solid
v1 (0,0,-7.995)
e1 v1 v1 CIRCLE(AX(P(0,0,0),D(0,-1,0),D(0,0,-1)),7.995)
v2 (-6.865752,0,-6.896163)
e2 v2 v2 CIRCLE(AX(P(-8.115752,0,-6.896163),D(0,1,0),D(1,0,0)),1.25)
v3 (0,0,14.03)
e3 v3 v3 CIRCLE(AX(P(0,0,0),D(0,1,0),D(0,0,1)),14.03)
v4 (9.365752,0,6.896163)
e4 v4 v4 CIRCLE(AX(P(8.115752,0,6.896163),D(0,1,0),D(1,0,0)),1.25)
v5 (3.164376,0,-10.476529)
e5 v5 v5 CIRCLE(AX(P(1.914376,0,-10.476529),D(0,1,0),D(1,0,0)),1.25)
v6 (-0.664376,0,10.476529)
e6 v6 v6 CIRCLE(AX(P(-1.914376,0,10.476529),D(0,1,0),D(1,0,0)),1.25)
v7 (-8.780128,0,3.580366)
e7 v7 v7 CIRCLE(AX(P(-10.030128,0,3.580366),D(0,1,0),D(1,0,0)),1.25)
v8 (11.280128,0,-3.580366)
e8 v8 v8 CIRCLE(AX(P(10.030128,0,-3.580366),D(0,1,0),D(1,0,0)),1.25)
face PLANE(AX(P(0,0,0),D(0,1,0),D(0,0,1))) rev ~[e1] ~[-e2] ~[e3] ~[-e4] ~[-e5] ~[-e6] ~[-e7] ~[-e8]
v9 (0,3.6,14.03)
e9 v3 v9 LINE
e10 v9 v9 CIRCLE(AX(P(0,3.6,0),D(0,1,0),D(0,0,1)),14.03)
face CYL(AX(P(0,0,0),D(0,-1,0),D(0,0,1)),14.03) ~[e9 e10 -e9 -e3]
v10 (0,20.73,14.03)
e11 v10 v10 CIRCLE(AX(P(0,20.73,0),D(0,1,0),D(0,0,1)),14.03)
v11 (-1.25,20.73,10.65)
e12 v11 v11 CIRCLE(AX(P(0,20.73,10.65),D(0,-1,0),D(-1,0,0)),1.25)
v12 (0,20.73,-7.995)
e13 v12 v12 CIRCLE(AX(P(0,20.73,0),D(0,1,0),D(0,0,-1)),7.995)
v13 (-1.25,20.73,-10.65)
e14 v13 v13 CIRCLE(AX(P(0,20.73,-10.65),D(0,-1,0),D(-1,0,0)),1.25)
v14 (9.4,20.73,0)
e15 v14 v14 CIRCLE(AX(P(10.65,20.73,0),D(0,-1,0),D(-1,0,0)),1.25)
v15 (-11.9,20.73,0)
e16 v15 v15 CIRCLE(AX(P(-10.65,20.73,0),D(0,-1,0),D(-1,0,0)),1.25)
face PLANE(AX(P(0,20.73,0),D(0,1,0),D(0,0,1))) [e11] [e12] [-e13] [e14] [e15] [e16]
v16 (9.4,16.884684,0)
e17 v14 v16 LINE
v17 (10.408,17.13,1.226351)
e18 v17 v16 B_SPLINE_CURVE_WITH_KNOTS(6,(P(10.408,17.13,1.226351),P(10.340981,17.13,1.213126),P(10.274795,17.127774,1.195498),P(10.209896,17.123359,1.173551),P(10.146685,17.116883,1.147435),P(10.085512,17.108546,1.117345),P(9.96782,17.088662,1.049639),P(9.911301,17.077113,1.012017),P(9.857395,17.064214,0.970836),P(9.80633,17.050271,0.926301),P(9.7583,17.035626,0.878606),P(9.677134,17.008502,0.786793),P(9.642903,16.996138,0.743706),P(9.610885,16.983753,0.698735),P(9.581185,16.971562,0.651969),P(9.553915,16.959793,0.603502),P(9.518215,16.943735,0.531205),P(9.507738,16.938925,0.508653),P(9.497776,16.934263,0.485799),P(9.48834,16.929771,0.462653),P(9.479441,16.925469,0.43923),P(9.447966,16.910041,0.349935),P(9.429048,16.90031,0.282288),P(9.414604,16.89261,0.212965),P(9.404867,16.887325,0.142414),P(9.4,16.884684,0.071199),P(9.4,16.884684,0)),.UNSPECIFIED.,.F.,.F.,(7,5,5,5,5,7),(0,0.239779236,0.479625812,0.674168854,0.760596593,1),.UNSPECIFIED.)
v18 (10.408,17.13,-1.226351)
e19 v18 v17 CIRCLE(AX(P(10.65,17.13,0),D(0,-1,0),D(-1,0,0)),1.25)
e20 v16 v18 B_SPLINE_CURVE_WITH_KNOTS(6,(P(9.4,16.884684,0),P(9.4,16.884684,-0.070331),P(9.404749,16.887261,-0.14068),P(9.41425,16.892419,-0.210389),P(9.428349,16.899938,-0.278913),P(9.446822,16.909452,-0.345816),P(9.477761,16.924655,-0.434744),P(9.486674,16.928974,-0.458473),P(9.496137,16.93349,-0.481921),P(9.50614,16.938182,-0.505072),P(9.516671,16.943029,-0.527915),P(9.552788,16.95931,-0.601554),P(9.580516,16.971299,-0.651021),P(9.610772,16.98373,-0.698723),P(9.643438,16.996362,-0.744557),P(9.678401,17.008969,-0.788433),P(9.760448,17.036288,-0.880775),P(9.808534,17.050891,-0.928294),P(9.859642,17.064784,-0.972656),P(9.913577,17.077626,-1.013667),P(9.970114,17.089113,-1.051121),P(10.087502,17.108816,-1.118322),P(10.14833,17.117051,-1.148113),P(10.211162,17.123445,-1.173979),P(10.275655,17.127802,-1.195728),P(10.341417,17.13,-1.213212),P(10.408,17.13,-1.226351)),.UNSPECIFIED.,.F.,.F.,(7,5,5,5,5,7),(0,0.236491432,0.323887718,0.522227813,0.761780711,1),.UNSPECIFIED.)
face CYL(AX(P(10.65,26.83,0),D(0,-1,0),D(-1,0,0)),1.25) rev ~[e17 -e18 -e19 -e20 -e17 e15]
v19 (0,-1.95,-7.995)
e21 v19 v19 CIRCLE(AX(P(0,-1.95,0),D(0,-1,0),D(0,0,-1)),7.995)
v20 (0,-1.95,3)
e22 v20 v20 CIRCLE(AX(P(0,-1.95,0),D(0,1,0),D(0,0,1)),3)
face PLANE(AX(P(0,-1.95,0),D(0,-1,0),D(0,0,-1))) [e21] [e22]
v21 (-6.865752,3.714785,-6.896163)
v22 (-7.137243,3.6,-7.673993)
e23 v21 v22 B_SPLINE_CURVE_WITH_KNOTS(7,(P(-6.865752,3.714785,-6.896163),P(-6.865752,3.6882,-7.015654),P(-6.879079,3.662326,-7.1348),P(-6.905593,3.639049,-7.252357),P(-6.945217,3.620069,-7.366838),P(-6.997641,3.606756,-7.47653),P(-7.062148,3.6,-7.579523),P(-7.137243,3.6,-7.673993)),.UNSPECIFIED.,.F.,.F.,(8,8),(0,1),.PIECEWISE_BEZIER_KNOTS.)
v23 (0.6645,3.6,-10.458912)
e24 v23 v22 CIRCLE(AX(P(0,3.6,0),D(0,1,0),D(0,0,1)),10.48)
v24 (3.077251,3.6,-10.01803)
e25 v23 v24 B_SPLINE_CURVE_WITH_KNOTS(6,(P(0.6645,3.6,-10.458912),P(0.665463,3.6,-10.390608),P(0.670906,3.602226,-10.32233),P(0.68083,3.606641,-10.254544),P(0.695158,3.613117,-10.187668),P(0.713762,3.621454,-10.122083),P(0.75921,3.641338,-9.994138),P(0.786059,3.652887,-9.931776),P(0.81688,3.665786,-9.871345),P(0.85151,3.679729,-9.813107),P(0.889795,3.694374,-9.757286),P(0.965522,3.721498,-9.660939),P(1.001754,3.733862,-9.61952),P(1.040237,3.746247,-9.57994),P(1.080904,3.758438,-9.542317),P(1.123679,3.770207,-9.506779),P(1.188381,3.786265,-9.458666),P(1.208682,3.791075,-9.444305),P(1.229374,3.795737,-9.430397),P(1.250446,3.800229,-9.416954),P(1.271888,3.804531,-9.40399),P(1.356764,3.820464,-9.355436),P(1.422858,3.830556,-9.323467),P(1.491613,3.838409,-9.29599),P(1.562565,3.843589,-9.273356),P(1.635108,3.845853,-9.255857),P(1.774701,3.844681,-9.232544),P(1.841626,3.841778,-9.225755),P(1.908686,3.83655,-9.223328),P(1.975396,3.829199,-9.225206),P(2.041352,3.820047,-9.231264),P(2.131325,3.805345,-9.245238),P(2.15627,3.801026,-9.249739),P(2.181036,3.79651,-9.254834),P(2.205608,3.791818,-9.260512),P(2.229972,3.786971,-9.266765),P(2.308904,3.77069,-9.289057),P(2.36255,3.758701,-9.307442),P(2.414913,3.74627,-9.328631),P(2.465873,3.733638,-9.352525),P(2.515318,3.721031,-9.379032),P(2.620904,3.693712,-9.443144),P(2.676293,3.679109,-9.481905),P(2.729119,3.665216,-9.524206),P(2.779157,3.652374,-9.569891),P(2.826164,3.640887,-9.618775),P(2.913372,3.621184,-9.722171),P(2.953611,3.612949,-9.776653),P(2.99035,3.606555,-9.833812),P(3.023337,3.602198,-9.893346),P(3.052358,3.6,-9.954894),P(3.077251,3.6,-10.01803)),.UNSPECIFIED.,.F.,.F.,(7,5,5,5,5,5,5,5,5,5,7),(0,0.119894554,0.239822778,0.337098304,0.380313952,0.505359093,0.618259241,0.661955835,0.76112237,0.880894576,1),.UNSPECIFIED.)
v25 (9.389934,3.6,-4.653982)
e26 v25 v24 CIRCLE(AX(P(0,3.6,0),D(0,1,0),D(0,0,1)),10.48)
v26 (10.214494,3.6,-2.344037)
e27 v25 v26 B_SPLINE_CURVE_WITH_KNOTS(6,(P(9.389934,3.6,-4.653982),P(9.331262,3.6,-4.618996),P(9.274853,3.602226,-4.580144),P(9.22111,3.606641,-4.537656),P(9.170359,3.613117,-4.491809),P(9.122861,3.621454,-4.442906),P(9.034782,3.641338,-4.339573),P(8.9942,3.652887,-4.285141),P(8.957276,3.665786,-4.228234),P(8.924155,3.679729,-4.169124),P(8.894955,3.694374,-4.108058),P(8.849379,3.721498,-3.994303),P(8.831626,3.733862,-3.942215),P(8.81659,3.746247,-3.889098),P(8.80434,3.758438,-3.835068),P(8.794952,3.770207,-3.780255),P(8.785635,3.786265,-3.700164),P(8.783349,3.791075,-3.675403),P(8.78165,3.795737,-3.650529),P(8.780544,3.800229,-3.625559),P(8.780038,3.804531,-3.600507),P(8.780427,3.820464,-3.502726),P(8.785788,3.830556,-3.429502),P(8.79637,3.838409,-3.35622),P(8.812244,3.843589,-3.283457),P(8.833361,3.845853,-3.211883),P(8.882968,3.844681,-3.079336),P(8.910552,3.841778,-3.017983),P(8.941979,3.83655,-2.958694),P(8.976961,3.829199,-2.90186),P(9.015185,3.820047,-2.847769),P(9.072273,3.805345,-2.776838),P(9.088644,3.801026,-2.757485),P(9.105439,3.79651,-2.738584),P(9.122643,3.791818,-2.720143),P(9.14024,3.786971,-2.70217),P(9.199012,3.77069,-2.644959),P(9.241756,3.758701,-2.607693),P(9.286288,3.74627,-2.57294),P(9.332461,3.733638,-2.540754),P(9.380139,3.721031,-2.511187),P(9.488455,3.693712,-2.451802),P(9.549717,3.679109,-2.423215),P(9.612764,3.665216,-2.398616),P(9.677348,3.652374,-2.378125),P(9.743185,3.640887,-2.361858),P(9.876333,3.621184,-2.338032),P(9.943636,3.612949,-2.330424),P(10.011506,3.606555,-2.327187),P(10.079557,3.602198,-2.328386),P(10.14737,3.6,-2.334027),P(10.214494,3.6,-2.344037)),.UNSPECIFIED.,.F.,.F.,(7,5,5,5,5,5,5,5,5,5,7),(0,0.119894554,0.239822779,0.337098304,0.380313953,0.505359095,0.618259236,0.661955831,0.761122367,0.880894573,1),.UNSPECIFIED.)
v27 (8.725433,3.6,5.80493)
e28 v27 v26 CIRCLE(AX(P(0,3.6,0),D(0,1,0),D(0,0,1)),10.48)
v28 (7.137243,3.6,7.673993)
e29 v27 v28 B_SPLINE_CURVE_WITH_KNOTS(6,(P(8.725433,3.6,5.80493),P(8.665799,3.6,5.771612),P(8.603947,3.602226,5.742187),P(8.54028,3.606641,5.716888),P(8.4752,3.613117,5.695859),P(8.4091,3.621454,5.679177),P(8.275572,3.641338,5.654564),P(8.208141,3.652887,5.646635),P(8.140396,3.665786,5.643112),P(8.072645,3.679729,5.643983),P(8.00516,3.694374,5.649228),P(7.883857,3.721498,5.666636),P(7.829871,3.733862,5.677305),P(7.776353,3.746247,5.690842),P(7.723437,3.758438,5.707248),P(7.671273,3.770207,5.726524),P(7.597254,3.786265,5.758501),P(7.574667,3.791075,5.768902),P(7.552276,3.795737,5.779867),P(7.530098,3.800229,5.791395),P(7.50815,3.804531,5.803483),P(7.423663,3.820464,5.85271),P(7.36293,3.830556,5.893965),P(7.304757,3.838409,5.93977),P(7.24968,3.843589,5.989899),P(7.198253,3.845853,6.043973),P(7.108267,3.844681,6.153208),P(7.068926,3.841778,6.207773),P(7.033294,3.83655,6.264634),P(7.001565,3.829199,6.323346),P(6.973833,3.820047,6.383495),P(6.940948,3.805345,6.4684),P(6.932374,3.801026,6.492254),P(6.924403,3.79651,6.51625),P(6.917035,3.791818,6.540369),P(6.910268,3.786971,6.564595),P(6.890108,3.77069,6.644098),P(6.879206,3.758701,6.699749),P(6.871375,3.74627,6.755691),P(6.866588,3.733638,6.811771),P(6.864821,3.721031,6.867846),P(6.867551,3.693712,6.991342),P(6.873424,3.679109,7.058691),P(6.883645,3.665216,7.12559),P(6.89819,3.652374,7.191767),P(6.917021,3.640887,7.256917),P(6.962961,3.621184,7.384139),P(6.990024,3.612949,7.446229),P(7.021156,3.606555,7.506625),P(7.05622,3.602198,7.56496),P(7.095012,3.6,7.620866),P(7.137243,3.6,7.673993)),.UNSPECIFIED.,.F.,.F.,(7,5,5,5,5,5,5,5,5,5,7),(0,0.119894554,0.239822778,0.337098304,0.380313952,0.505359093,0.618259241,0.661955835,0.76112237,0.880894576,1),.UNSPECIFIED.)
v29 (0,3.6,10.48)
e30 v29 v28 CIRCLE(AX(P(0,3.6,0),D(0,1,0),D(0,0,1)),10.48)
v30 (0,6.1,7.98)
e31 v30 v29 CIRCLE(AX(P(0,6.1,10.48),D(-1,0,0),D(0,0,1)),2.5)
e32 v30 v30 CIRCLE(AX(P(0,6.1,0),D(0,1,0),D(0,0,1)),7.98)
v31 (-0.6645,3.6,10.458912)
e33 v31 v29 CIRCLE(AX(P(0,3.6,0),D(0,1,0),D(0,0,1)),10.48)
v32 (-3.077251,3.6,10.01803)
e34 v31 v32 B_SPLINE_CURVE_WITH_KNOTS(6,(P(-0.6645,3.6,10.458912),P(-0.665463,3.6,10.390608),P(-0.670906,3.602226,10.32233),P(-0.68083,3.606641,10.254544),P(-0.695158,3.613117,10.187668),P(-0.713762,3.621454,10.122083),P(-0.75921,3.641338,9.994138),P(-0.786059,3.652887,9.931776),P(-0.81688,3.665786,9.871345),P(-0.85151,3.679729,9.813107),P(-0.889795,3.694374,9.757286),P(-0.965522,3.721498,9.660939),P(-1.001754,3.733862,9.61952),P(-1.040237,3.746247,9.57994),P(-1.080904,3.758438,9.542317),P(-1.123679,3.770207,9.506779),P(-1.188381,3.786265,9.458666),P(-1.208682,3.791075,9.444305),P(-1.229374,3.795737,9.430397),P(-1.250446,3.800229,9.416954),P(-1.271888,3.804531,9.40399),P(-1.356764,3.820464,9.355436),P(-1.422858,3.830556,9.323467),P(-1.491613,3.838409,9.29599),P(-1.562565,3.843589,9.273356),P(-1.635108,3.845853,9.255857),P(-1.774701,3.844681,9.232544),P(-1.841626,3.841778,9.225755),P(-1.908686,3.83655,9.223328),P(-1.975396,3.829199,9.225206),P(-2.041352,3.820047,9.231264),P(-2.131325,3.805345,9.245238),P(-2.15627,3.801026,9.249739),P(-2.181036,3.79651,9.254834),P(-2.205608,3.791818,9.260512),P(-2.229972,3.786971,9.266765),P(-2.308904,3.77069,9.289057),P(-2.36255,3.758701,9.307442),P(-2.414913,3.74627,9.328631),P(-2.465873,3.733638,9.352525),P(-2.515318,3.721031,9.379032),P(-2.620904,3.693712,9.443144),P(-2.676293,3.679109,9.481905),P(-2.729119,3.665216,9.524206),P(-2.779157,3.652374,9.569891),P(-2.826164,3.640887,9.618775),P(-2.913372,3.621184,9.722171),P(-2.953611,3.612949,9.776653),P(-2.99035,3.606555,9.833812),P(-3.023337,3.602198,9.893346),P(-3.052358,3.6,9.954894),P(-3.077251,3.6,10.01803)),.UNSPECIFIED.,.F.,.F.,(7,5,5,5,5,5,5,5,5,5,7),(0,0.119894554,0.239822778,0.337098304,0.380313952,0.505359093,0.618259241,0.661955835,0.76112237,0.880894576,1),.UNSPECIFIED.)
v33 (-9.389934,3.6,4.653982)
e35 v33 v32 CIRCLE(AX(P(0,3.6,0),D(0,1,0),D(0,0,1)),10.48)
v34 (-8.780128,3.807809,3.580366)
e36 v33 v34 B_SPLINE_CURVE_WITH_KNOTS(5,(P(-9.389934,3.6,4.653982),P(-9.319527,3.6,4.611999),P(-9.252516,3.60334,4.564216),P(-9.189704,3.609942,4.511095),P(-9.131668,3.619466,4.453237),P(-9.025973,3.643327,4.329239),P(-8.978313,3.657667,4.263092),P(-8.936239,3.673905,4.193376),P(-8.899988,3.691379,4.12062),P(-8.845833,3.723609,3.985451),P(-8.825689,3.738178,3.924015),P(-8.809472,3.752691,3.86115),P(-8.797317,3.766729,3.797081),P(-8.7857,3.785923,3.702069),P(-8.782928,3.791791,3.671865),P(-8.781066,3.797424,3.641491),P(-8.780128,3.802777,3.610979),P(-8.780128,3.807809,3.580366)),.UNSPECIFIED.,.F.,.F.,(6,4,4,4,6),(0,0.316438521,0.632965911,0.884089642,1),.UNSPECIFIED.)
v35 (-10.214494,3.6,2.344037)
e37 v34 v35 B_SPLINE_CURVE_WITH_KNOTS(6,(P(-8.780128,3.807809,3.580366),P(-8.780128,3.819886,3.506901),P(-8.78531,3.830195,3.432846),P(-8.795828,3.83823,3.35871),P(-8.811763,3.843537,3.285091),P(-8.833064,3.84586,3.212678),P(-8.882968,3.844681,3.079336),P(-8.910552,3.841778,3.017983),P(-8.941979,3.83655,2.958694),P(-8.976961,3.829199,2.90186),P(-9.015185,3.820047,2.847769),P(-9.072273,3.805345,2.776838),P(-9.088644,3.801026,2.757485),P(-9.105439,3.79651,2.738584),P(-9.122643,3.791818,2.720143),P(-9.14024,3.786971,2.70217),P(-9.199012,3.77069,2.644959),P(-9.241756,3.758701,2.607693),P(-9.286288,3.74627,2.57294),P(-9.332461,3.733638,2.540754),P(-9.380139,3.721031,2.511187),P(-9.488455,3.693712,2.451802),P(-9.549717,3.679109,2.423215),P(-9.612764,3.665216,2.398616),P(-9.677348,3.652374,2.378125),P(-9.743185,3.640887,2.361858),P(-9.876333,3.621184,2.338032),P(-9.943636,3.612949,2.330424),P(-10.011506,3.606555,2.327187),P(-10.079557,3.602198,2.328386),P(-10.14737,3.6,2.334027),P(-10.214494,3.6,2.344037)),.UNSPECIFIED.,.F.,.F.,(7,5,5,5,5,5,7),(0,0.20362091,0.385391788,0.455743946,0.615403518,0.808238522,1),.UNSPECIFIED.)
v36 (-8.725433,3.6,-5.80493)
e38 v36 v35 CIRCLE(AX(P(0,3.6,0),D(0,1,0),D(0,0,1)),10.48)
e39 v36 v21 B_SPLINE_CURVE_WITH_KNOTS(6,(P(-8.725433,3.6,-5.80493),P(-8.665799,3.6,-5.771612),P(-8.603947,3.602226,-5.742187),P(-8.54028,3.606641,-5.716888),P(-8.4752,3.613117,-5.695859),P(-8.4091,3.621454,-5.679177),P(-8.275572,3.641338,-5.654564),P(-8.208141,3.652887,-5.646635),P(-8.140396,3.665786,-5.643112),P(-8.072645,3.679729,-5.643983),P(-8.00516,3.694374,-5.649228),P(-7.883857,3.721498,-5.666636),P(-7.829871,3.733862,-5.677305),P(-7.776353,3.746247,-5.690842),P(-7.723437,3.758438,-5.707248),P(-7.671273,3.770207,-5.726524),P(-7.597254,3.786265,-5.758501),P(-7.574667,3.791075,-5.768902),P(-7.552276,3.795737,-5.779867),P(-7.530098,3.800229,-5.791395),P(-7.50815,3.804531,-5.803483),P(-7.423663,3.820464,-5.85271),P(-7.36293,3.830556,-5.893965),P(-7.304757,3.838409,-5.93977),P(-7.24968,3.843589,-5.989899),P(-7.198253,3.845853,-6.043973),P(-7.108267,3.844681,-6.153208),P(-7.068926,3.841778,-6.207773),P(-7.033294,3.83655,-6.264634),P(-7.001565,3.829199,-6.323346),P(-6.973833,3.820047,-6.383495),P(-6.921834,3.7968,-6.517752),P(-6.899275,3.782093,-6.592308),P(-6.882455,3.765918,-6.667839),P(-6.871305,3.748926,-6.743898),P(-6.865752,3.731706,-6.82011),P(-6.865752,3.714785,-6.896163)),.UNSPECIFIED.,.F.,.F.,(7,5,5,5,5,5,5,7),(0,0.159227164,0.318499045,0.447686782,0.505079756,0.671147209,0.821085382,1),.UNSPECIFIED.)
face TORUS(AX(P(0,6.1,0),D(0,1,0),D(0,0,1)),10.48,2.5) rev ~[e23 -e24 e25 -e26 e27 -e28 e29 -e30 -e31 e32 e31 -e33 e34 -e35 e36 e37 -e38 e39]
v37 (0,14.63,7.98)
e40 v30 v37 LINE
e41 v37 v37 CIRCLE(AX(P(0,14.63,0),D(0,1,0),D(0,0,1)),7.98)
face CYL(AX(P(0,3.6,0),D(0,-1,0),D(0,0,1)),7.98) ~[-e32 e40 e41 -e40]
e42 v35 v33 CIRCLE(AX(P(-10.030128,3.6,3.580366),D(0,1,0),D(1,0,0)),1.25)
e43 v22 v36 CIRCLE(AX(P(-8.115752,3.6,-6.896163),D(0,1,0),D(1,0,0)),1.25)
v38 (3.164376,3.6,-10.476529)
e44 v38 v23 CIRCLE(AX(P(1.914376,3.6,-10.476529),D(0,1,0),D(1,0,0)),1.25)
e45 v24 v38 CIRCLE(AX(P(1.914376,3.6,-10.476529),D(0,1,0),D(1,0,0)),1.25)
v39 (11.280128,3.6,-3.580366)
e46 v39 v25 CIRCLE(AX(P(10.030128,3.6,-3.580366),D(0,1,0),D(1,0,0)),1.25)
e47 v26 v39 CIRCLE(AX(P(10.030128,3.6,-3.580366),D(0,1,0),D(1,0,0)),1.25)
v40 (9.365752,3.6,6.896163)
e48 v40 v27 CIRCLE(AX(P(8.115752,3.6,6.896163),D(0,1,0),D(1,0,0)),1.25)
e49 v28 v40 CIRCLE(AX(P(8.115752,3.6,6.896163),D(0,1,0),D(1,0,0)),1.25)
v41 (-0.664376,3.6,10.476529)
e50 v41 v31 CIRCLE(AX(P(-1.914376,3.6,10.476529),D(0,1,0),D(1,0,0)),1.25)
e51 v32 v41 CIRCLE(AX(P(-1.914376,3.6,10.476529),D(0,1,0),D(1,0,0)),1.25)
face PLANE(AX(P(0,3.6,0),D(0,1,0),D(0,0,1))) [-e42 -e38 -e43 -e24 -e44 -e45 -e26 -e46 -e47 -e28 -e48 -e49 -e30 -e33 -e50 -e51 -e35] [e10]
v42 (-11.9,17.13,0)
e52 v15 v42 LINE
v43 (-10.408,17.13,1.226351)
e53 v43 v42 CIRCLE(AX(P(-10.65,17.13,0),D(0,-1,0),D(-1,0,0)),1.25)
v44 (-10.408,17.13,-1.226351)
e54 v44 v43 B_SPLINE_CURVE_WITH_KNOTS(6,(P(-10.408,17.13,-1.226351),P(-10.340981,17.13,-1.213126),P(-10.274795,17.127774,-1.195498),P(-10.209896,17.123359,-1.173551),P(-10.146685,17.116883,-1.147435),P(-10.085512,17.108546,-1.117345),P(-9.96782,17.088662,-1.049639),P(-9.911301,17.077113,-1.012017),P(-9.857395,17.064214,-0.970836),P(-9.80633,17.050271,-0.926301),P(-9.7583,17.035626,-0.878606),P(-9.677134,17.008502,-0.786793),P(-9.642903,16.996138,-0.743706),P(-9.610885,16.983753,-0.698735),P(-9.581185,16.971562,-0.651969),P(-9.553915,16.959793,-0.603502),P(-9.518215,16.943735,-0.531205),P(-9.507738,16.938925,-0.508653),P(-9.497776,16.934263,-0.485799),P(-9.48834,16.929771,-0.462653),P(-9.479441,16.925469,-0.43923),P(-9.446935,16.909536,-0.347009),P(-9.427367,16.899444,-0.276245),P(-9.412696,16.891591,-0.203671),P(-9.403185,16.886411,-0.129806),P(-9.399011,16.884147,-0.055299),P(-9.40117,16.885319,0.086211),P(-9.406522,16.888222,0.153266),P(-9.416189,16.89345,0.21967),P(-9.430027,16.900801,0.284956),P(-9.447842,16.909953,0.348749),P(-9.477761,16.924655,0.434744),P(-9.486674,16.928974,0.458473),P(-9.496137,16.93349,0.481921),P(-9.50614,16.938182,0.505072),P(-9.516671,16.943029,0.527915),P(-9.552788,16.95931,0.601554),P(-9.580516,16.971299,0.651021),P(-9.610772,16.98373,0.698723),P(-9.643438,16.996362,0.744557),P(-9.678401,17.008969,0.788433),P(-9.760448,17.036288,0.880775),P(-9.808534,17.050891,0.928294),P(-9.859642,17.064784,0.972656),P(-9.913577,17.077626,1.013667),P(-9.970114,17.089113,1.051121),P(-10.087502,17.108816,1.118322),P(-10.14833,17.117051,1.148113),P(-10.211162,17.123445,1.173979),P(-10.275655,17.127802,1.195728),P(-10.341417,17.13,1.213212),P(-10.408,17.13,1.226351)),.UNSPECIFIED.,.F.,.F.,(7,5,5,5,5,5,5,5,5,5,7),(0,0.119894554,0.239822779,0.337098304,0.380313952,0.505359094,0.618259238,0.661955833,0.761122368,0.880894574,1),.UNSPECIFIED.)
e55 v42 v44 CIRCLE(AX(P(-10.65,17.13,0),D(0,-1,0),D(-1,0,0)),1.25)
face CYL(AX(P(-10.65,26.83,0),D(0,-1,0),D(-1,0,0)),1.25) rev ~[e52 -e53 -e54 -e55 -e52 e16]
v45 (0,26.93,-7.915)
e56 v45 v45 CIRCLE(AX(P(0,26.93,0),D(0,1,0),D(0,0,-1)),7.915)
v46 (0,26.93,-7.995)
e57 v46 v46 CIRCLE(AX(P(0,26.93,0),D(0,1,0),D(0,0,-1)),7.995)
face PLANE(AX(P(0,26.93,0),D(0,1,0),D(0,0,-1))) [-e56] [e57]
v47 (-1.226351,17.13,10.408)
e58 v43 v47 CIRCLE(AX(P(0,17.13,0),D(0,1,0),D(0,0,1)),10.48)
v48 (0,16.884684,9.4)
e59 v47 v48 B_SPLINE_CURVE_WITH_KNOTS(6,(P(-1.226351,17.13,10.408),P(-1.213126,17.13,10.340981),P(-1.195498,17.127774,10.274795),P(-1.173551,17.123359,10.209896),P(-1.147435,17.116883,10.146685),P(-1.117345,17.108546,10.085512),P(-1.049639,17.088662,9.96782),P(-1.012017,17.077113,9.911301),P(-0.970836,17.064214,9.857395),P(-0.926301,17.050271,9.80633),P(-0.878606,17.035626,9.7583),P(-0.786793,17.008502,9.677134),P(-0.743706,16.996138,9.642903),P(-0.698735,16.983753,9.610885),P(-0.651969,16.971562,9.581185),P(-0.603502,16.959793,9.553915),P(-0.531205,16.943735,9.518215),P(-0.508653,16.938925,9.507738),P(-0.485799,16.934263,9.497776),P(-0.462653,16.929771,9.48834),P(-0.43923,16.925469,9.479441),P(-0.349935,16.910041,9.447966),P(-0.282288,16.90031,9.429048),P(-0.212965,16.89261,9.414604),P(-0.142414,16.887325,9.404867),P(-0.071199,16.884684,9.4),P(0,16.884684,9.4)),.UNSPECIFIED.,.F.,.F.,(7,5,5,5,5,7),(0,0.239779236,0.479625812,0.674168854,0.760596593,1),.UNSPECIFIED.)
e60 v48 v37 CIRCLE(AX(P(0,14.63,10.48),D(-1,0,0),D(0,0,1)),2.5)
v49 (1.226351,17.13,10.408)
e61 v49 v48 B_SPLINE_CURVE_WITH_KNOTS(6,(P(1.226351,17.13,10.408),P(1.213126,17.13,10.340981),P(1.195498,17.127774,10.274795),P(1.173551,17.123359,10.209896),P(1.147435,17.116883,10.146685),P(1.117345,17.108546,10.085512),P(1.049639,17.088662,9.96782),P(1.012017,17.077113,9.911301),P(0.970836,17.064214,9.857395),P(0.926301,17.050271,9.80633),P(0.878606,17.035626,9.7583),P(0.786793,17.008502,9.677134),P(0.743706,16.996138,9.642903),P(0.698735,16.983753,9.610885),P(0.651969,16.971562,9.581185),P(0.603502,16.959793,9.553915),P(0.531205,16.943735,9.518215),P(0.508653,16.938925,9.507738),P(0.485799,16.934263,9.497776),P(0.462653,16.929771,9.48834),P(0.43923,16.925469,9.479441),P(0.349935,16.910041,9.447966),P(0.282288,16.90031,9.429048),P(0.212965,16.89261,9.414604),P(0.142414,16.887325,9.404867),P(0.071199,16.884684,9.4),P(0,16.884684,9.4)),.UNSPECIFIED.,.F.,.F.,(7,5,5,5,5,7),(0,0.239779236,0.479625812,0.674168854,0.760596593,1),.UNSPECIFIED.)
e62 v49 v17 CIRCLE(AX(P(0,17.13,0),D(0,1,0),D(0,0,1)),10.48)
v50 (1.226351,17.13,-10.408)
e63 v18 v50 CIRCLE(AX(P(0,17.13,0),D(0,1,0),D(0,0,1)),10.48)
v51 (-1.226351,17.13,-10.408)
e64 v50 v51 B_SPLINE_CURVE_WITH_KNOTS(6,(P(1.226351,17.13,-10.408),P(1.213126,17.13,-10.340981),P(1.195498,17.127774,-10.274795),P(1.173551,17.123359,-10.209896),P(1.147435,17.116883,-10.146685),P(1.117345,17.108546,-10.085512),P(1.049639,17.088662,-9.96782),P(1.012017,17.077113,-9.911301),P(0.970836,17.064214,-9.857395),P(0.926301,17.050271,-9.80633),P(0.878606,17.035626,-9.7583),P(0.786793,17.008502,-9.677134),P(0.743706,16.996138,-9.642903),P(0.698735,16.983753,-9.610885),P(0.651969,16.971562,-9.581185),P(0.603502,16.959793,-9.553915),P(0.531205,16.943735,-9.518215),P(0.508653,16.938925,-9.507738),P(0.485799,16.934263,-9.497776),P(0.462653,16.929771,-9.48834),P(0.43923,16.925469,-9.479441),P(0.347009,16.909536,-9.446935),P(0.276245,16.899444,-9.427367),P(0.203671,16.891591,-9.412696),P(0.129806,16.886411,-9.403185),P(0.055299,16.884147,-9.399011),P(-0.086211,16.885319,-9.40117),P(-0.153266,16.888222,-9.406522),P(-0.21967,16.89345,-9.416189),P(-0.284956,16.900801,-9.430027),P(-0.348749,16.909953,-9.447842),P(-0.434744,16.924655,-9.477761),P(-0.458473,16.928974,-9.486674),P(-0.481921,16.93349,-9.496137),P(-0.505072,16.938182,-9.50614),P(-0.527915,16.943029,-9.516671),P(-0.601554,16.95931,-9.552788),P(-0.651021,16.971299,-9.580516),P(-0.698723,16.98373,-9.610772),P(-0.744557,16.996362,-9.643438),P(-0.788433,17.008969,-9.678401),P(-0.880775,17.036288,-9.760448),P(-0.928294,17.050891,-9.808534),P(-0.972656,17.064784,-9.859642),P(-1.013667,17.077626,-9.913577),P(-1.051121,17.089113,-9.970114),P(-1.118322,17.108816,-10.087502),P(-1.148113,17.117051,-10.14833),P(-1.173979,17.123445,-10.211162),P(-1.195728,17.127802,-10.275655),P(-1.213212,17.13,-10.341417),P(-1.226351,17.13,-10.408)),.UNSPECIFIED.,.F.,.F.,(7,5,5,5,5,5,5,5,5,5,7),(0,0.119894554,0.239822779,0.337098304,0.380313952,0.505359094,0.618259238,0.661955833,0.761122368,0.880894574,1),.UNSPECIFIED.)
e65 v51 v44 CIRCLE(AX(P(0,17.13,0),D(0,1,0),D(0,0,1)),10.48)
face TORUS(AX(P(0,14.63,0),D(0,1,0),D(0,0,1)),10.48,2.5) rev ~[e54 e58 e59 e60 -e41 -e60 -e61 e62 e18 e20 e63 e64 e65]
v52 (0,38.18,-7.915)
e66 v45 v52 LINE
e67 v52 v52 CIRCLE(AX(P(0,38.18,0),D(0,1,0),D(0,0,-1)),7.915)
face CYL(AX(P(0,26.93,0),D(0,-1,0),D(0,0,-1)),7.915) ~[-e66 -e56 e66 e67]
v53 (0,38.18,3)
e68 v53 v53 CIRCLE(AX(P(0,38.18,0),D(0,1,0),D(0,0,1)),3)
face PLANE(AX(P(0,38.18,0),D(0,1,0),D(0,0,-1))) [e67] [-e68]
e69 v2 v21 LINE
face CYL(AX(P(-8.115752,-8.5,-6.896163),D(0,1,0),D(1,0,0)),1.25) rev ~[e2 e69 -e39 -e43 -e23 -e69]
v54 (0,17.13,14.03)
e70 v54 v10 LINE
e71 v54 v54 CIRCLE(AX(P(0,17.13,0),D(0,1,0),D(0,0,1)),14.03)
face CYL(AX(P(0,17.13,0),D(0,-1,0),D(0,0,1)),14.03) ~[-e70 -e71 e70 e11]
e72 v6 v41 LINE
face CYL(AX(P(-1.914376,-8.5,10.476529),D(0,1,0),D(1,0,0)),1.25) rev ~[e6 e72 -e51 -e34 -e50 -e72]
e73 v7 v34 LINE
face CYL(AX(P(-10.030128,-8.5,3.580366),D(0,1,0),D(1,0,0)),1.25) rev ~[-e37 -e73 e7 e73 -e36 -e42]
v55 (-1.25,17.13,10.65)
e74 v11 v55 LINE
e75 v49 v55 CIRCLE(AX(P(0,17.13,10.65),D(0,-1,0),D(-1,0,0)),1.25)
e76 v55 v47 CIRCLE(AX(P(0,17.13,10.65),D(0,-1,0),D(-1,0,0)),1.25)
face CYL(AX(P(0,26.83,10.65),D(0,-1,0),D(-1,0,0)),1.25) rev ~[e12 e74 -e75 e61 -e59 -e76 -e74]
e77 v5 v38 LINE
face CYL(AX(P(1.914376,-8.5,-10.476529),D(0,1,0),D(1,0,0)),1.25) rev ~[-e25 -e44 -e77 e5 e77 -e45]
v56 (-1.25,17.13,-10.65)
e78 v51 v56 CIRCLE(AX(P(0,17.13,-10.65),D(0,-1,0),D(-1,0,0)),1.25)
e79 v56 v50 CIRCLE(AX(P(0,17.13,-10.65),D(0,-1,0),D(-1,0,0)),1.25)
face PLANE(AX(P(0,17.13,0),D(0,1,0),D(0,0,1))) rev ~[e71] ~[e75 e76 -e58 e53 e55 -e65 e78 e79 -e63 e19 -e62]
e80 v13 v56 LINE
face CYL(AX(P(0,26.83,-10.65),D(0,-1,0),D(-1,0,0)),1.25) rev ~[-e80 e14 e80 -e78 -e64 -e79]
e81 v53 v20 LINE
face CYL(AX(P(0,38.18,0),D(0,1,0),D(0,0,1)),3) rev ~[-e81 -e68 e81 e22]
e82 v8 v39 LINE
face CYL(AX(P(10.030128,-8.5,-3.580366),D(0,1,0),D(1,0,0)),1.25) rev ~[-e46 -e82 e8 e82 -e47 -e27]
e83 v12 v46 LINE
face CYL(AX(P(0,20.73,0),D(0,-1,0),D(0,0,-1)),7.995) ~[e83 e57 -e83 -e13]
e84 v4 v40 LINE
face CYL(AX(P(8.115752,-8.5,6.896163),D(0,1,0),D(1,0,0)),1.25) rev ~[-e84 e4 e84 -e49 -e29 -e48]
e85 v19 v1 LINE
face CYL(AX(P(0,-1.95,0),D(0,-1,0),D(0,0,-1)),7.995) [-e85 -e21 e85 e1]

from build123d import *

# Parameters (mm, degrees)
SCHIZZO1_R                    = 14.03
ESTRUSIONE_ESTRUSIONE1_DEPTH  = 3.6
SCHIZZO2_R                    = 7.98
ESTRUSIONE_ESTRUSIONE2_DEPTH  = 13.53
SCHIZZO3_R                    = 14.03
ESTRUSIONE_ESTRUSIONE3_DEPTH  = 3.6
SCHIZZO4_R                    = 7.995
ESTRUSIONE_ESTRUSIONE4_DEPTH  = 6.2
ESTRUSIONE_ESTRUSIONE5_START  = 1.95
SCHIZZO5_R                    = 7.995
ESTRUSIONE_ESTRUSIONE5_DEPTH  = 1.95
SCHIZZO6_R                    = 7.915
ESTRUSIONE_ESTRUSIONE6_DEPTH  = 11.25
RACCORDO1_R                   = 2.5
FORO_FILETTATO_M3X0_5_1_D     = 2.5
FORO_FILETTATO_M3X0_5_1_DEPTH = 6.1
FORO_FILETTATO_M3X0_5_1_TIP   = 0.751075774
SCHIZZO10_R                   = 3
TAGLIO_ESTRUSIONE1_DEPTH      = 45.767160955
FORO_FILETTATO_M3X0_5_2_D     = 2.5
FORO_FILETTATO_M3X0_5_2_DEPTH = 8.5
FORO_FILETTATO_M3X0_5_2_TIP   = 0.751075774


with BuildPart() as part:
    # Schizzo1 → Estrusione-Estrusione1 (new body)
    with BuildSketch(Plane(origin=(0, 0, 0), x_dir=(1, 0, 0), z_dir=(0, 1, 0))):
        with Locations(Location((0, 0, 0), (0, 0, 270))):
            Circle(SCHIZZO1_R)
    extrude(amount=ESTRUSIONE_ESTRUSIONE1_DEPTH)

    # Schizzo2 → Estrusione-Estrusione2 (add)
    with BuildSketch(Plane(origin=(0, 3.6, 0), x_dir=(1, 0, 0), z_dir=(0, 1, 0))):
        with Locations(Location((0, 0, 0), (0, 0, 270))):
            Circle(SCHIZZO2_R)
    extrude(amount=ESTRUSIONE_ESTRUSIONE2_DEPTH)

    # Schizzo3 → Estrusione-Estrusione3 (add)
    with BuildSketch(Plane(origin=(0, 17.13, 0), x_dir=(1, 0, 0), z_dir=(0, 1, 0))):
        with Locations(Location((0, 0, 0), (0, 0, 270))):
            Circle(SCHIZZO3_R)
    extrude(amount=ESTRUSIONE_ESTRUSIONE3_DEPTH)

    # Schizzo4 → Estrusione-Estrusione4 (add)
    with BuildSketch(Plane(origin=(0, 20.73, 0), x_dir=(1, 0, 0), z_dir=(0, 1, 0))):
        with Locations(Location((0, 0, 0), (0, 0, 90))):
            Circle(SCHIZZO4_R)
    extrude(amount=ESTRUSIONE_ESTRUSIONE4_DEPTH)

    # Schizzo5 → Estrusione-Estrusione5 (add)
    with BuildSketch(Plane.XZ.offset(ESTRUSIONE_ESTRUSIONE5_START)):
        with Locations(Location((0, 0, 0), (0, 0, 270))):
            Circle(SCHIZZO5_R)
    extrude(amount=-ESTRUSIONE_ESTRUSIONE5_DEPTH)

    # Schizzo6 → Estrusione-Estrusione6 (add)
    with BuildSketch(Plane(origin=(0, 26.93, 0), x_dir=(1, 0, 0), z_dir=(0, 1, 0))):
        with Locations(Location((0, 0, 0), (0, 0, 90))):
            Circle(SCHIZZO6_R)
    extrude(amount=ESTRUSIONE_ESTRUSIONE6_DEPTH)

    # Raccordo1
    raccordo1_edges = [part.edges().sort_by_distance(p)[0] for p in [
        (0, 3.6, -7.98),
        (0, 17.13, -7.98),
    ]]
    fillet(raccordo1_edges, radius=RACCORDO1_R)

    # Foro filettato M3x0.5-1
    with Locations(Plane(origin=(0, 20.73, 0), x_dir=(1, 0, 0), z_dir=(0, 1, 0))):
        with Locations((0, 10.65), (10.65, 0), (-10.65, 0), (0, -10.65)):
            Hole(FORO_FILETTATO_M3X0_5_1_D / 2, depth=FORO_FILETTATO_M3X0_5_1_DEPTH)
            with Locations((0, 0, -(FORO_FILETTATO_M3X0_5_1_DEPTH + FORO_FILETTATO_M3X0_5_1_TIP / 2))):  # 118° drill point
                Cone(0, FORO_FILETTATO_M3X0_5_1_D / 2, FORO_FILETTATO_M3X0_5_1_TIP, mode=Mode.SUBTRACT)

    # Schizzo10 → Taglio-Estrusione1 (cut, through all)
    with BuildSketch(Plane(origin=(0, 38.18, 0), x_dir=(1, 0, 0), z_dir=(0, 1, 0))):
        with Locations(Location((0, 0, 0), (0, 0, 270))):
            Circle(SCHIZZO10_R)
    extrude(amount=-TAGLIO_ESTRUSIONE1_DEPTH, mode=Mode.SUBTRACT)

    # Foro filettato M3x0.5-2
    with Locations(Plane(origin=(0, 0, 0), x_dir=(-1, 0, 0), z_dir=(0, -1, 0))):
        with Locations((-10.030128499, 3.580366224), (-1.914376144, 10.476529195), (8.115752354, 6.896162971), (10.030128499, -3.580366224), (1.914376144, -10.476529195), (-8.115752354, -6.896162971), (0, 0)):
            Hole(FORO_FILETTATO_M3X0_5_2_D / 2, depth=FORO_FILETTATO_M3X0_5_2_DEPTH)
            with Locations((0, 0, -(FORO_FILETTATO_M3X0_5_2_DEPTH + FORO_FILETTATO_M3X0_5_2_TIP / 2))):  # 118° drill point
                Cone(0, FORO_FILETTATO_M3X0_5_2_D / 2, FORO_FILETTATO_M3X0_5_2_TIP, mode=Mode.SUBTRACT)


solid = part.part
